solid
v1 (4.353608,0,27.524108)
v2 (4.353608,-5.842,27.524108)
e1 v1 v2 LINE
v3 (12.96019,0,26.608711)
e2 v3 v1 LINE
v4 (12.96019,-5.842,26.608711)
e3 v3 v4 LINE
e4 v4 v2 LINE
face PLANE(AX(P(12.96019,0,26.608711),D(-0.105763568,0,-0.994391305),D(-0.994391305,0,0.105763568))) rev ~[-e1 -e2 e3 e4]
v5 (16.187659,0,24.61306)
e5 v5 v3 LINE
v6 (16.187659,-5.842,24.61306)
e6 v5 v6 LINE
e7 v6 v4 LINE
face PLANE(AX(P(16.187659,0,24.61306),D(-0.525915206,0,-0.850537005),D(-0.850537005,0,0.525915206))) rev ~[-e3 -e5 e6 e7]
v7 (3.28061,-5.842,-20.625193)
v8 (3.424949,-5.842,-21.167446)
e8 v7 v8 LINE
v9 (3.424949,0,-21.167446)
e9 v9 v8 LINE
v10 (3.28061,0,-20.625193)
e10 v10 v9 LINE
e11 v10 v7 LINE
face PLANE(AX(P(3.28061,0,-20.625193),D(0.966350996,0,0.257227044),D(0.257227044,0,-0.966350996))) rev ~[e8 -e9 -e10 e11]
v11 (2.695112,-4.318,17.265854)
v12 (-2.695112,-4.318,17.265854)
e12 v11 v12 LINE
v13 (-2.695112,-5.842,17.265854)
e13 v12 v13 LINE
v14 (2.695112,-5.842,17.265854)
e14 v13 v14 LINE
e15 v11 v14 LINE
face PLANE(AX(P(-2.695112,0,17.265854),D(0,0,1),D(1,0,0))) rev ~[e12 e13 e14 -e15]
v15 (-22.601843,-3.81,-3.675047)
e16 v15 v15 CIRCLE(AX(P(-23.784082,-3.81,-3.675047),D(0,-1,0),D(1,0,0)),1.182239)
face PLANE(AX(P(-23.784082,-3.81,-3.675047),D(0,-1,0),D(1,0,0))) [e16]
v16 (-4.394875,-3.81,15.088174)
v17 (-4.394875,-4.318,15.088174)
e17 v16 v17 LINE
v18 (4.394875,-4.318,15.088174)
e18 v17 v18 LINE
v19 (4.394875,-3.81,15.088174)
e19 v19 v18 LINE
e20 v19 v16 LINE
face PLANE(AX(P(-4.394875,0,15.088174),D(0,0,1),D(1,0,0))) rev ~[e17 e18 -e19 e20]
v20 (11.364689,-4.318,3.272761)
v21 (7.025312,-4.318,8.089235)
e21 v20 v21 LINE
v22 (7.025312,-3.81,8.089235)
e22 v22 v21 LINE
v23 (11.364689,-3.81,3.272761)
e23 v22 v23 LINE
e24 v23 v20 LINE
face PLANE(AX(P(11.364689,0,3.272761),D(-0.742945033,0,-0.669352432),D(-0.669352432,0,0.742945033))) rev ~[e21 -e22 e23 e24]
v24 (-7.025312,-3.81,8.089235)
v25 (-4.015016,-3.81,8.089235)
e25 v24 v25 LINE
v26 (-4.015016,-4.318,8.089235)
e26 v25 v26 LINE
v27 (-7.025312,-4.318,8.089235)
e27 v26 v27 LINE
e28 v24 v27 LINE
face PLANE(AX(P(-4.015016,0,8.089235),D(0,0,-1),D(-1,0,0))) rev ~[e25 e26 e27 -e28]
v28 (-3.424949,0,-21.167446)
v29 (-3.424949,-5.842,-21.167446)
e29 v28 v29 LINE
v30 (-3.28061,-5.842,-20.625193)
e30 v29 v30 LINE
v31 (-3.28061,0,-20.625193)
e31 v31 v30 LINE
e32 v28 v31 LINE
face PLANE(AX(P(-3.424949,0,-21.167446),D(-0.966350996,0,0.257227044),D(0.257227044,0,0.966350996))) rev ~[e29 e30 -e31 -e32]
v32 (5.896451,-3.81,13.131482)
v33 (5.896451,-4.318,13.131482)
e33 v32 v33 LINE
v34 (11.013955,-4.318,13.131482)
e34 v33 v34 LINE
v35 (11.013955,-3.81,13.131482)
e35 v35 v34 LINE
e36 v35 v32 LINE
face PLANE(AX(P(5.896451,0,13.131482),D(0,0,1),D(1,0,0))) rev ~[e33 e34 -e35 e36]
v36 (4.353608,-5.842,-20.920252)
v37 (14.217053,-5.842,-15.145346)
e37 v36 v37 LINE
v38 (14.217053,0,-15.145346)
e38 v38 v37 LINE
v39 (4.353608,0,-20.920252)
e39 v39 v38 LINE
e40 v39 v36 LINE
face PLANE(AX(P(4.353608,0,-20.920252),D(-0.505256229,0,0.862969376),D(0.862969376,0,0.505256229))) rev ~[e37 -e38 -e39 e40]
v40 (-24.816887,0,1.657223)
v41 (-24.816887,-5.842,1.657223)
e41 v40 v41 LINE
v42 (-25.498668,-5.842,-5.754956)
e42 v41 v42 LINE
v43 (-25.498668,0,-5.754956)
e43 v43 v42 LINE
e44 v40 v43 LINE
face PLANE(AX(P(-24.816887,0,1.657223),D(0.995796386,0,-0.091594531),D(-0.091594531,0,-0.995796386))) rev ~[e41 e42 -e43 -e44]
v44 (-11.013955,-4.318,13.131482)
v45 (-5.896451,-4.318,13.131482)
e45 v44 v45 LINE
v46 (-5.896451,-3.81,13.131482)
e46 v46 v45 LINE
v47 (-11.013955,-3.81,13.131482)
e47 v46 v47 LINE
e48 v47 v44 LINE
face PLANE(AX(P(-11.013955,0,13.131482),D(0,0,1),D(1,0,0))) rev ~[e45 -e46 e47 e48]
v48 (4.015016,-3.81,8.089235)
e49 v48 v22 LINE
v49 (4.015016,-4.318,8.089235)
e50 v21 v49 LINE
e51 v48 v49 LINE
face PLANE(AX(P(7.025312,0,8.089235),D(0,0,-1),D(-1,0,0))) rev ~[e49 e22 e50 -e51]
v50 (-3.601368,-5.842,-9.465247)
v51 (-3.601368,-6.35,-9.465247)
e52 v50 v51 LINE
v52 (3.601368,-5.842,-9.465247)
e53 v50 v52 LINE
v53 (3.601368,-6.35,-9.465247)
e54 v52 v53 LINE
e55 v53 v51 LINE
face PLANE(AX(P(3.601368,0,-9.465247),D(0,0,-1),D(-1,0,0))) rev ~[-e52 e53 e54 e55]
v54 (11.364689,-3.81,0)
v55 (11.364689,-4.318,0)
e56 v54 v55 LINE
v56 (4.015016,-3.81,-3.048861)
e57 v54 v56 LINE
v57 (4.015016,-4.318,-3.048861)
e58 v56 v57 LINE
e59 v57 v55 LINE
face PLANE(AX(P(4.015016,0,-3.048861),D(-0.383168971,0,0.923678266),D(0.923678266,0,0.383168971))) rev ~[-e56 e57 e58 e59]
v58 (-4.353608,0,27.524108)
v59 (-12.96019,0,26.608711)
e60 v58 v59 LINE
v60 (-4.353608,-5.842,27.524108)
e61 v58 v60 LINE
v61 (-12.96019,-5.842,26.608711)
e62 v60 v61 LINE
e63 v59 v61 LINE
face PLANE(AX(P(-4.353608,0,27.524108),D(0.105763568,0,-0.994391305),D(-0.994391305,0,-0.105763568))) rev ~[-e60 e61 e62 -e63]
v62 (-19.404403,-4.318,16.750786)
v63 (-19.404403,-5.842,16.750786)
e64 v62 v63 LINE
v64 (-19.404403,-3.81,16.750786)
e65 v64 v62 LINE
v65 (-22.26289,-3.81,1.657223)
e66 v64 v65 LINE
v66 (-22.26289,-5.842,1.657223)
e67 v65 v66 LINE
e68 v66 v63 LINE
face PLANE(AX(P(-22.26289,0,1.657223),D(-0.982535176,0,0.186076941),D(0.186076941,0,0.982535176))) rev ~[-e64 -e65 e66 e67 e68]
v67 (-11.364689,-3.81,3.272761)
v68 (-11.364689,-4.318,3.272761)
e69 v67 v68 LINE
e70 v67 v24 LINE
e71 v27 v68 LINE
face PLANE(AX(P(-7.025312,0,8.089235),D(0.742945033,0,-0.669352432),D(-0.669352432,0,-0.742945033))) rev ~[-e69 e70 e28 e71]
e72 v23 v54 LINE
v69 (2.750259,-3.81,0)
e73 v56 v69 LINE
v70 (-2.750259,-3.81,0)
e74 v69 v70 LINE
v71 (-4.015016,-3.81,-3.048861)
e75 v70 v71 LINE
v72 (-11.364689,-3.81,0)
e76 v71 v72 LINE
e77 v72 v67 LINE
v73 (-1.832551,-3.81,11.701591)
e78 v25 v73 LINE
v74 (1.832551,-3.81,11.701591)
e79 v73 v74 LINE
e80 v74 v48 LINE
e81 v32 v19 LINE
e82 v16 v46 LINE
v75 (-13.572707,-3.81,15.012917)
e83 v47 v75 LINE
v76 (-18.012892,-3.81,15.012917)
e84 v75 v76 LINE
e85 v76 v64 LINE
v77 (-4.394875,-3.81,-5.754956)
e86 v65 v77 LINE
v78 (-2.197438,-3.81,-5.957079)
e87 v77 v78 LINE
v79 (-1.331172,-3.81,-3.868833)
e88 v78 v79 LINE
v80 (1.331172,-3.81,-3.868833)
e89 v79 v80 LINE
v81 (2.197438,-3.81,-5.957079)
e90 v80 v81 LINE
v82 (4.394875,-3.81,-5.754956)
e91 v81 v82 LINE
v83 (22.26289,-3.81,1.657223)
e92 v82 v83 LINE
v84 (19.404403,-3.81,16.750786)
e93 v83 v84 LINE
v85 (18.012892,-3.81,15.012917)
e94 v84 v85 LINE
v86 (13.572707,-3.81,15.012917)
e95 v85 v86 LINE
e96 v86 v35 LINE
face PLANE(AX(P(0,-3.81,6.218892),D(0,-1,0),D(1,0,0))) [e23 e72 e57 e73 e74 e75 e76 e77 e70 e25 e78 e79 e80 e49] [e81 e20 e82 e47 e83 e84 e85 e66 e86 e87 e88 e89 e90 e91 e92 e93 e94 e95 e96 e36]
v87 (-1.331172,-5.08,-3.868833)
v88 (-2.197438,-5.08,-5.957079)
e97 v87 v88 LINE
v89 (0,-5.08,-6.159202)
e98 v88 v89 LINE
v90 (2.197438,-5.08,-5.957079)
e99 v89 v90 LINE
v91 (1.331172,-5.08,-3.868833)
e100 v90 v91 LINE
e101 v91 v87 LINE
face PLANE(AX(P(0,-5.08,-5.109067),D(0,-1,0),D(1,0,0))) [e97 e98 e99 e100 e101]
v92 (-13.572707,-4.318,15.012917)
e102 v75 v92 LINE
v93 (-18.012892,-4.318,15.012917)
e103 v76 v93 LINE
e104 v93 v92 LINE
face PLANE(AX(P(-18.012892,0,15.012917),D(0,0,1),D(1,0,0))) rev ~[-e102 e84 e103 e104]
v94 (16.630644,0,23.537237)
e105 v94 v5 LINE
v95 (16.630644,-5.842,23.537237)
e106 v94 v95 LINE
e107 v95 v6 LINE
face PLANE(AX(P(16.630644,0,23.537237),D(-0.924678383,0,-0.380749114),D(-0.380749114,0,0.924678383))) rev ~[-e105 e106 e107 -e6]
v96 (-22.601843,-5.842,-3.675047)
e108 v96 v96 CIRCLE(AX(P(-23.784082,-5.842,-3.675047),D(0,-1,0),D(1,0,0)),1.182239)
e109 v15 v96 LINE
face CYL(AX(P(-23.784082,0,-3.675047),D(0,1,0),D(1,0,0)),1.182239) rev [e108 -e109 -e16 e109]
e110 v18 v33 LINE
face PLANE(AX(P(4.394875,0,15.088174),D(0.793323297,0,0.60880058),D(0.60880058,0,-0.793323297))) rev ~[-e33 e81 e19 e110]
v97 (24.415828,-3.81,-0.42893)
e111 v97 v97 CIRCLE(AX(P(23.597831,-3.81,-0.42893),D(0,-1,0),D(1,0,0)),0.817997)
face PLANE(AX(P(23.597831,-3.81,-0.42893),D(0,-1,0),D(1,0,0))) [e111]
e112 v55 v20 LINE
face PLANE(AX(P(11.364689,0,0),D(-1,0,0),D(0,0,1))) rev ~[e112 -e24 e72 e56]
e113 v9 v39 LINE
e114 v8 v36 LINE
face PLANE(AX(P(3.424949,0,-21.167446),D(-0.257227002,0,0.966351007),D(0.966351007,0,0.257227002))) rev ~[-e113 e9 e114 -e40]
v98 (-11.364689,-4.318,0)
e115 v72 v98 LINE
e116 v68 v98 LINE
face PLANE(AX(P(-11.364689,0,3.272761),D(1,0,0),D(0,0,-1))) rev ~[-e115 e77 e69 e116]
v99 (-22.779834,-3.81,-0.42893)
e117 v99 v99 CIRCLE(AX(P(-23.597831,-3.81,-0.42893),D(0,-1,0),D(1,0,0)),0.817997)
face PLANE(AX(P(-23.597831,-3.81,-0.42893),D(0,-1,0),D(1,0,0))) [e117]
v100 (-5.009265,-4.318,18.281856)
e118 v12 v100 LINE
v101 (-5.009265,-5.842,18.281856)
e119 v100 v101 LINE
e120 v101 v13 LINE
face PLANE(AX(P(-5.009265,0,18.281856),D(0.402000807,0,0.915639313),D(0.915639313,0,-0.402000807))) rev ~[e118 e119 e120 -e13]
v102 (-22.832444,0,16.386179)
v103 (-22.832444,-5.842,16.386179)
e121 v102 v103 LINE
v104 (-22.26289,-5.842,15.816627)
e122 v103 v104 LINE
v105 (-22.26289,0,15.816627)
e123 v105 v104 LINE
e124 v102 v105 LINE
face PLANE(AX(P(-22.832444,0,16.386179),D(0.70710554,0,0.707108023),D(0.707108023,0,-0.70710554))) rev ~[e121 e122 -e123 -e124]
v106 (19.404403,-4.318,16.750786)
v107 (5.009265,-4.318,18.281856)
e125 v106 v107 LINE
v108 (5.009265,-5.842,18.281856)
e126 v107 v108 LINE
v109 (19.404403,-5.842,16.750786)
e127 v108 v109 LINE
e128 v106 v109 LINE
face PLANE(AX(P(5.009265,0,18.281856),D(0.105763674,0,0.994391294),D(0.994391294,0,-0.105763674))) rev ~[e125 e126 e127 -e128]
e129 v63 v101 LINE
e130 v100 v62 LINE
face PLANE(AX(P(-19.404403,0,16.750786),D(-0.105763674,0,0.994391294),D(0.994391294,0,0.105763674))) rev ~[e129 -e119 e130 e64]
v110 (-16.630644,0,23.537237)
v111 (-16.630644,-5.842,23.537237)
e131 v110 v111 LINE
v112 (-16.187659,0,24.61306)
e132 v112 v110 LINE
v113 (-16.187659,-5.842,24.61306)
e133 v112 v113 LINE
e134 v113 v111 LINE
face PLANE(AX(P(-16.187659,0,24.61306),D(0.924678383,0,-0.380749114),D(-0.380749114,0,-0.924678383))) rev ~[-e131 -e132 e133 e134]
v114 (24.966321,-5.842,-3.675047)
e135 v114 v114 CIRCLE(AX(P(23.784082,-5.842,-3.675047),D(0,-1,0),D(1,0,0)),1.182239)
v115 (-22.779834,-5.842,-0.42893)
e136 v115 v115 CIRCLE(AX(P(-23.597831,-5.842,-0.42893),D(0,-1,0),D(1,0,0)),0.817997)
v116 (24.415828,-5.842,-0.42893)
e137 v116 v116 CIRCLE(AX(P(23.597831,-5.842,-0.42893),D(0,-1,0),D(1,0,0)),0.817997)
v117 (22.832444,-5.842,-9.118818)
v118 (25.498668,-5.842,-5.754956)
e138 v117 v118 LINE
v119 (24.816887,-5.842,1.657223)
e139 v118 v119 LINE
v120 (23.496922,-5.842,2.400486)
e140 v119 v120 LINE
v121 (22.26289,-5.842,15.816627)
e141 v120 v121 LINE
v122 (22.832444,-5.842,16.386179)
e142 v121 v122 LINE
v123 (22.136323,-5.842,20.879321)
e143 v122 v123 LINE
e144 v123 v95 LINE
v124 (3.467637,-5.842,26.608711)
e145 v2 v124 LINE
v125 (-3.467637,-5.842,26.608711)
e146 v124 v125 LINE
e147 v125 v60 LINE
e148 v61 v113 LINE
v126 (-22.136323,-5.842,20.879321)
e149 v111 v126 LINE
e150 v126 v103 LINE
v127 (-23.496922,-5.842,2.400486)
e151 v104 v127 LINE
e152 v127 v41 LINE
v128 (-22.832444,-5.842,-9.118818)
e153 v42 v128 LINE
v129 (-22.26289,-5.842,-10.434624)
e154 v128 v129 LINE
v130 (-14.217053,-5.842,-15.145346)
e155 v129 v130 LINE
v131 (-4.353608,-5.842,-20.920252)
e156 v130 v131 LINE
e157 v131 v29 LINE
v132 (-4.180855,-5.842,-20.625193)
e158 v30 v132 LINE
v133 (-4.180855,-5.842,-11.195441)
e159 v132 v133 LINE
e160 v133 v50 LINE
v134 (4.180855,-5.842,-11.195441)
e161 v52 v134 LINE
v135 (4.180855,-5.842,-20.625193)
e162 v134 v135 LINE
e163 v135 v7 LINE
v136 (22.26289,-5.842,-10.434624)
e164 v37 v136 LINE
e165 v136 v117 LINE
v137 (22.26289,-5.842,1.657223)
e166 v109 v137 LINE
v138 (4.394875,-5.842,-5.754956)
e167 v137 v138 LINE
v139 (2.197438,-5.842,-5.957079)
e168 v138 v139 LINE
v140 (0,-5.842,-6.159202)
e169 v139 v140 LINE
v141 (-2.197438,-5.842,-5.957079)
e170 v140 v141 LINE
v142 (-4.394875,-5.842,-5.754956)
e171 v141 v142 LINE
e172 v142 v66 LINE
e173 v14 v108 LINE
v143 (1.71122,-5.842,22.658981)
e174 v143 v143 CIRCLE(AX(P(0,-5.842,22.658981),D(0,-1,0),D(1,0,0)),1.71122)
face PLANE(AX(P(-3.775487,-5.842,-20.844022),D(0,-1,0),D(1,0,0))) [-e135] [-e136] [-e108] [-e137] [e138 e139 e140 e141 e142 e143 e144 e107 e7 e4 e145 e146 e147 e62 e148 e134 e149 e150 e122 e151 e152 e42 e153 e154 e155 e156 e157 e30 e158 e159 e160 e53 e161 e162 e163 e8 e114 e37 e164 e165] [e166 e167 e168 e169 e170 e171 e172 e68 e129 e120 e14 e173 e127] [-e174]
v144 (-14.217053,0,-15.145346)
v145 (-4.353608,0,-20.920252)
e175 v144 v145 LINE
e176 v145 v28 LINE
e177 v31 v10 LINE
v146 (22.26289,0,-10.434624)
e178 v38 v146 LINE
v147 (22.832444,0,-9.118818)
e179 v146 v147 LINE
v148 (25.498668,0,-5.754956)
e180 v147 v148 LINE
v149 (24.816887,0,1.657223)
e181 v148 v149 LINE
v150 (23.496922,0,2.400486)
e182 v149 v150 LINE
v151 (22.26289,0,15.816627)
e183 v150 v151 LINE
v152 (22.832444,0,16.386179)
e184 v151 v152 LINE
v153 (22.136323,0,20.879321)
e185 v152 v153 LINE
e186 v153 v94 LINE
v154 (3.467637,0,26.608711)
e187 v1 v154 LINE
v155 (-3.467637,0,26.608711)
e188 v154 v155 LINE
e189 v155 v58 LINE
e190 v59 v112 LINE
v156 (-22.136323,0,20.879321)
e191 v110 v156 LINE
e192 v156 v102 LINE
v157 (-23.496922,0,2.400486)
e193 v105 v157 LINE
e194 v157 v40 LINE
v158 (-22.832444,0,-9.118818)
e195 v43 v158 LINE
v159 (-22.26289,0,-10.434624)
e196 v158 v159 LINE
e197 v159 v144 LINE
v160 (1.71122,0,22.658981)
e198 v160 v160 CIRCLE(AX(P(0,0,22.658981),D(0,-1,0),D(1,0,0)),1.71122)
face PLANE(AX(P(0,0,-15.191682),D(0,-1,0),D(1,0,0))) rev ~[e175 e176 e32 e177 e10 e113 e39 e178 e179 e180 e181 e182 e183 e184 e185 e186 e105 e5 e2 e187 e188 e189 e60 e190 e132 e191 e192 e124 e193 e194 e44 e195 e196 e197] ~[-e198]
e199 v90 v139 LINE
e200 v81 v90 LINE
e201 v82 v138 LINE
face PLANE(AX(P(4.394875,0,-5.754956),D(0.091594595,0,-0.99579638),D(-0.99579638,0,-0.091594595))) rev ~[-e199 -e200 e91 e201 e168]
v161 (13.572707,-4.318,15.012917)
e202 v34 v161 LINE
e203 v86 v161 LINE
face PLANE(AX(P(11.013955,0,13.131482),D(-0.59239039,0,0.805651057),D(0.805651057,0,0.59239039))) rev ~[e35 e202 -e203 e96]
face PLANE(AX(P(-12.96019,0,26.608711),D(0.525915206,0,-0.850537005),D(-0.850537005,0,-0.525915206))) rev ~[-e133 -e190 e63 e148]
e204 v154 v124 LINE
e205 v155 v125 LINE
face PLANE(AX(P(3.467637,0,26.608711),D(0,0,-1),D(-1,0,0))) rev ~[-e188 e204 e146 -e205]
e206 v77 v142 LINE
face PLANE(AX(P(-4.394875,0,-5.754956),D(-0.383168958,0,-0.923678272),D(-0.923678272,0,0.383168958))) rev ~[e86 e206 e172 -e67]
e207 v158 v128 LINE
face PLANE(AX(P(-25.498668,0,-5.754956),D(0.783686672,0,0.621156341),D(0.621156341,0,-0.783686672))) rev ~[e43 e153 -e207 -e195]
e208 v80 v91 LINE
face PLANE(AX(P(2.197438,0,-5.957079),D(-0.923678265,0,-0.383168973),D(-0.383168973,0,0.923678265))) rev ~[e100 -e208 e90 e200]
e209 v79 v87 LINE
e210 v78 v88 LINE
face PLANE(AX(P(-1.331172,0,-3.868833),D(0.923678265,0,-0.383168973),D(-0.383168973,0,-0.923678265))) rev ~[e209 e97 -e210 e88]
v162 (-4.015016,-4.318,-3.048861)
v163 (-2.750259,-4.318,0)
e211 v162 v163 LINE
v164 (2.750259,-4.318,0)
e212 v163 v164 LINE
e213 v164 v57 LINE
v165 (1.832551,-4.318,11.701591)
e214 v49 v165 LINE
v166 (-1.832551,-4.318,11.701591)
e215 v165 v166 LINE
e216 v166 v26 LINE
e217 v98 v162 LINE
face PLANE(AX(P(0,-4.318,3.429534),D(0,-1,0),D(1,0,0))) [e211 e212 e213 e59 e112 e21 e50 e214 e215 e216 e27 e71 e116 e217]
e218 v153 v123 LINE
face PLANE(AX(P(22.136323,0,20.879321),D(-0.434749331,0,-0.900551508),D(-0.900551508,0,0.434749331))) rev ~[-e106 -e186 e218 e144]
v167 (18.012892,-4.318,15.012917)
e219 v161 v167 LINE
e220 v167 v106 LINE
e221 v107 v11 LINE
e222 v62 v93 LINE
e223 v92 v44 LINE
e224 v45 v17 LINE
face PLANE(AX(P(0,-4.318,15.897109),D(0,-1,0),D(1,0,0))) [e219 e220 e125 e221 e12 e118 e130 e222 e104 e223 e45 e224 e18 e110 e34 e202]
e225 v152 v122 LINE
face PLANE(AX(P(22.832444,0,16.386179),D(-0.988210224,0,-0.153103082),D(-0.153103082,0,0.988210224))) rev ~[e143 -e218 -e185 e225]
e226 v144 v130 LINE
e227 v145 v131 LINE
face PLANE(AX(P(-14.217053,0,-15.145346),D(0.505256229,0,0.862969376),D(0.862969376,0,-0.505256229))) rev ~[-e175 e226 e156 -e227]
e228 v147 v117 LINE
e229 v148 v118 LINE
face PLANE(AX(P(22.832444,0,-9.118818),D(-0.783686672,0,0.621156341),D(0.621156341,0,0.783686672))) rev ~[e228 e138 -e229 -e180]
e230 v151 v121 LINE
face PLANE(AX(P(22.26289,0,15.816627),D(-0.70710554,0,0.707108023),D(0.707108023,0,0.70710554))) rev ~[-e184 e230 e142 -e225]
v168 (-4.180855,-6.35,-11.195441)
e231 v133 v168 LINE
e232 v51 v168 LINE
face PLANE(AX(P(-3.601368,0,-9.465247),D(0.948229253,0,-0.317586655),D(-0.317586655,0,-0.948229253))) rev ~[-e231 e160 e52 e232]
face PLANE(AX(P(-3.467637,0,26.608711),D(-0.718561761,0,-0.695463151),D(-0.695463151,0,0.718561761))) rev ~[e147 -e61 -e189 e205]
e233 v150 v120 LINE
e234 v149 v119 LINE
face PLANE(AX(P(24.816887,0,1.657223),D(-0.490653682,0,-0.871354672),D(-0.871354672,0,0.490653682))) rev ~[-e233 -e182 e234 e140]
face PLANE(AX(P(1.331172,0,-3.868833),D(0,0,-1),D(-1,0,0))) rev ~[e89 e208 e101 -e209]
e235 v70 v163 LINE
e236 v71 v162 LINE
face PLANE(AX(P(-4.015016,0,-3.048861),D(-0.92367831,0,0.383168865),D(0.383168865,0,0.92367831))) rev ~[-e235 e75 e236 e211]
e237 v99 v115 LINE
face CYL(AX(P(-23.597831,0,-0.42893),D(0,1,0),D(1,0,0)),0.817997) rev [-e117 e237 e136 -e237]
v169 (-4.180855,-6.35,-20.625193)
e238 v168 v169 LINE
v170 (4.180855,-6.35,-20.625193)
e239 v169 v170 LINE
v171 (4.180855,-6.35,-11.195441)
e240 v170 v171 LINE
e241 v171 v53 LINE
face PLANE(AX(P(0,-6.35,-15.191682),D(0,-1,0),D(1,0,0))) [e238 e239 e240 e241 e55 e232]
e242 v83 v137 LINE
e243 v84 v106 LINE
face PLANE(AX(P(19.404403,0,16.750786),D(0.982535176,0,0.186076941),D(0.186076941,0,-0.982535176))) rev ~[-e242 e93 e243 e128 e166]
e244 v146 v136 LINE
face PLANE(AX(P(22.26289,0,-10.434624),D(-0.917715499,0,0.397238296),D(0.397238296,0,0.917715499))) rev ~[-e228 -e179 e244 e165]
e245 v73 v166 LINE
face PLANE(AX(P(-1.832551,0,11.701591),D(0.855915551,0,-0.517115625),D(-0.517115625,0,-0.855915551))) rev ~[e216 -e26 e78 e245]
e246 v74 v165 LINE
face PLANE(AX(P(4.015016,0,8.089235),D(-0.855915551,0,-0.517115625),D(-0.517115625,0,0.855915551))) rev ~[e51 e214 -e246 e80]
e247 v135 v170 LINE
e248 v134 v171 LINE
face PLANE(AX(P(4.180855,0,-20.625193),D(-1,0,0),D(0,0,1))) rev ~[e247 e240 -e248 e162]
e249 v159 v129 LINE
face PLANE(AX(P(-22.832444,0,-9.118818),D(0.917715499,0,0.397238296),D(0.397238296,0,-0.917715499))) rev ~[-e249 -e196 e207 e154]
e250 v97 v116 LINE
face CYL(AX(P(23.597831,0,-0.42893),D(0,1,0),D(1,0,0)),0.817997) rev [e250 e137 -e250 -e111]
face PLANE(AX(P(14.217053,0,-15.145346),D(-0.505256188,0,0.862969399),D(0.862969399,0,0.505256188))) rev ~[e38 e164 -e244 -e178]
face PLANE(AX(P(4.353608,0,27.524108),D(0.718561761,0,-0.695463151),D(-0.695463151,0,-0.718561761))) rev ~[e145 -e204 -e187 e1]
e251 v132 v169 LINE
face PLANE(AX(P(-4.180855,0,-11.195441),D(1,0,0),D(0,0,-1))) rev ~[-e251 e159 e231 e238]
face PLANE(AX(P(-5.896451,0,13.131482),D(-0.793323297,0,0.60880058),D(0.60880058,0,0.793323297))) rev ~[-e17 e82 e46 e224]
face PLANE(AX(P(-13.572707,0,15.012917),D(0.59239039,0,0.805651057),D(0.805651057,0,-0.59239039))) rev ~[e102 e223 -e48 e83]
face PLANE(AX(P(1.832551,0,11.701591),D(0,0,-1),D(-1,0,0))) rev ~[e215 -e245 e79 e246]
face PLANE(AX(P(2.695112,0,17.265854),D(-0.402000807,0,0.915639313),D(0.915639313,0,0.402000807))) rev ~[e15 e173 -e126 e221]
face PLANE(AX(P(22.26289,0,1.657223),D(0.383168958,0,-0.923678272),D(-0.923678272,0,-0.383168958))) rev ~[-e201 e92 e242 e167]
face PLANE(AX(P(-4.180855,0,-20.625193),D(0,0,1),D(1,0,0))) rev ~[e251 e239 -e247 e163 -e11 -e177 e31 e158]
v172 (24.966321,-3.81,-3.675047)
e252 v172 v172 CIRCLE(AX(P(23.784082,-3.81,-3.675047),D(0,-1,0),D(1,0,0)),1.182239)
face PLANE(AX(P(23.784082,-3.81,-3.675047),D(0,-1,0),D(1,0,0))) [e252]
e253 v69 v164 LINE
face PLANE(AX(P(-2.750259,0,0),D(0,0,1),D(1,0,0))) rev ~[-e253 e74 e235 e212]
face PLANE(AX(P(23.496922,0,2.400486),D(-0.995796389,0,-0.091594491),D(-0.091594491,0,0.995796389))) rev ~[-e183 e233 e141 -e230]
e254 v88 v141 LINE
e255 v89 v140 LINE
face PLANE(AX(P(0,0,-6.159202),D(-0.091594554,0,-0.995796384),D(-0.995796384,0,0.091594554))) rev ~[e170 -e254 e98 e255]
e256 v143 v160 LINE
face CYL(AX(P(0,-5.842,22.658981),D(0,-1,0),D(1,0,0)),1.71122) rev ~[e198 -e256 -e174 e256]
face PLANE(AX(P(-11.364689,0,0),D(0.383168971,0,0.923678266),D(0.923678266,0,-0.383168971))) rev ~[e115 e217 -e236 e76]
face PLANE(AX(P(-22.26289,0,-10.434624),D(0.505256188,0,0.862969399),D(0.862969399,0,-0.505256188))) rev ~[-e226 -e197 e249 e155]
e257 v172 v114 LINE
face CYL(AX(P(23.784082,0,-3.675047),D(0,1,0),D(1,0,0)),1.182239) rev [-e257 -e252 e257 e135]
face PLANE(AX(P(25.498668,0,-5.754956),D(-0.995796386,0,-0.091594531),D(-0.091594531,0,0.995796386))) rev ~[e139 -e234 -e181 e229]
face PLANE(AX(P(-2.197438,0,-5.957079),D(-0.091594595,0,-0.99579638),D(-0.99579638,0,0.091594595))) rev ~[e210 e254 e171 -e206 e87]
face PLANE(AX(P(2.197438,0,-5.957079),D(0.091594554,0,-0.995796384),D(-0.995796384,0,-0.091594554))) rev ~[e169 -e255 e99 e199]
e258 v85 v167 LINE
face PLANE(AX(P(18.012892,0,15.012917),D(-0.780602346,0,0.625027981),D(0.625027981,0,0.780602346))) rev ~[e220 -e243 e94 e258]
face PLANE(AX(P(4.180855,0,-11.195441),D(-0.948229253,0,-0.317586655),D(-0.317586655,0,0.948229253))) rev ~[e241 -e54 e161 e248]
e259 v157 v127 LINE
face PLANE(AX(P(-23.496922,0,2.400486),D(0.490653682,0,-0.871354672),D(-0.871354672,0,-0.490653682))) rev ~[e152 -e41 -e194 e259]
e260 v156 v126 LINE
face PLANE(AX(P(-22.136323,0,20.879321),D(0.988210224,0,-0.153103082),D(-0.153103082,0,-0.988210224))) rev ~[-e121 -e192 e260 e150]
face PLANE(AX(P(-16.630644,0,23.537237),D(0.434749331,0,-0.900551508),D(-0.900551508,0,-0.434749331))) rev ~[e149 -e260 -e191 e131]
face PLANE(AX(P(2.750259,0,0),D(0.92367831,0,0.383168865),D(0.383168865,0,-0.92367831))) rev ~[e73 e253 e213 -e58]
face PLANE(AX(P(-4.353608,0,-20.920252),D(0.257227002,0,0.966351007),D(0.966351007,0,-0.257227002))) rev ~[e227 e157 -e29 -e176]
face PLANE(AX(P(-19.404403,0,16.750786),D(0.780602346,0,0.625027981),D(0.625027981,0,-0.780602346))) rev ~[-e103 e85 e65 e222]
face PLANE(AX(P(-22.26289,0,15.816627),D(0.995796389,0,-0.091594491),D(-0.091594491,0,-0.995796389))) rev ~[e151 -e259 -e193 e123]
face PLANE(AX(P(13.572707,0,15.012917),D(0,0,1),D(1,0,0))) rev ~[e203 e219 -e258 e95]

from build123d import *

# Parameters (mm, degrees)
F0_R     = 1.182239
F0_R_2   = 0.817997
F1_DEPTH = 5.842
F2_DEPTH = 3.81
F3_DEPTH = 5.08
F4_DEPTH = 4.318
F5_R     = 1.71122
F6_DEPTH = 25.4
F7_DEPTH = 6.35


with BuildPart() as f1:
    # F0 (on Front) → F1 (new body)
    with BuildSketch(Plane.XZ):
        Polygon((-4.180855, -20.625193), (-4.353608, -20.920252), (-3.424949, -21.167446), (-3.28061, -20.625193), align=None)
        Polygon((3.424949, -21.167446), (4.353608, -20.920252), (4.180855, -20.625193), (3.28061, -20.625193), align=None)
        Polygon((22.26289, -6.835999), (22.26289, 1.657223), (4.394875, -5.754956), (2.197438, -5.957079), (0, -6.159202), (-2.197438, -5.957079), (-4.394875, -5.754956), (-22.26289, 1.657223), (-22.26289, -6.835999), (-22.832444, -9.118818), (-15.86828, -11.246894), (-14.217053, -15.145346), (-4.353608, -20.920252), (-4.180855, -20.625193), (-4.180855, -11.195441), (-3.601368, -9.465247), (0, -9.465247), (3.601368, -9.465247), (4.180855, -11.195441), (4.180855, -20.625193), (4.353608, -20.920252), (14.217053, -15.145346), (15.86828, -11.246894), (22.832444, -9.118818), align=None)
        Polygon((-15.86828, -11.246894), (-22.832444, -9.118818), (-22.26289, -10.434624), (-14.217053, -15.145346), align=None)
        Polygon((22.26289, -10.434624), (22.832444, -9.118818), (15.86828, -11.246894), (14.217053, -15.145346), align=None)
        Polygon((24.816887, 1.657223), (22.26289, 1.657223), (22.26289, -6.835999), (22.832444, -9.118818), (25.498668, -5.754956), align=None)
        with Locations((23.784082, -3.675047)):
            Circle(F0_R, mode=Mode.SUBTRACT)
        with Locations((23.597831, -0.42893)):
            Circle(F0_R_2, mode=Mode.SUBTRACT)
        Polygon((-22.26289, -6.835999), (-22.26289, 1.657223), (-24.816887, 1.657223), (-25.498668, -5.754956), (-22.832444, -9.118818), align=None)
        with Locations((-23.784082, -3.675047)):
            Circle(F0_R, mode=Mode.SUBTRACT)
        with Locations((-23.597831, -0.42893)):
            Circle(F0_R_2, mode=Mode.SUBTRACT)
        Polygon((-19.404403, 16.750786), (-22.26289, 15.816627), (-23.496922, 2.400486), (-22.26289, 1.657223), align=None)
        Polygon((23.496922, 2.400486), (22.26289, 15.816627), (19.404403, 16.750786), (22.26289, 1.657223), align=None)
        Polygon((24.816887, 1.657223), (23.496922, 2.400486), (22.26289, 1.657223), align=None)
        Polygon((-22.26289, 1.657223), (-23.496922, 2.400486), (-24.816887, 1.657223), align=None)
        Polygon((-19.404403, 16.750786), (-22.832444, 16.386179), (-22.26289, 15.816627), align=None)
        Polygon((22.26289, 15.816627), (22.832444, 16.386179), (19.404403, 16.750786), align=None)
        Polygon((22.832444, 16.386179), (22.136323, 20.879321), (5.009265, 22.700958), (2.695112, 21.684956), (0, 21.684956), (-2.695112, 21.684956), (-5.009265, 22.700958), (-22.136323, 20.879321), (-22.832444, 16.386179), (-19.404403, 16.750786), (-5.009265, 18.281856), (-2.695112, 17.265854), (0, 17.265854), (2.695112, 17.265854), (5.009265, 18.281856), (19.404403, 16.750786), align=None)
        Polygon((3.467637, 26.608711), (0, 26.608711), (-3.467637, 26.608711), (-4.353608, 27.524108), (-12.96019, 26.608711), (-16.187659, 24.61306), (-16.630644, 23.537237), (-22.136323, 20.879321), (-5.009265, 22.700958), (-2.695112, 21.684956), (0, 21.684956), (2.695112, 21.684956), (5.009265, 22.700958), (22.136323, 20.879321), (16.630644, 23.537237), (16.187659, 24.61306), (12.96019, 26.608711), (4.353608, 27.524108), align=None)
    extrude(amount=F1_DEPTH)

    # F0 (on Front) → F2 (join)
    with BuildSketch(Plane.XZ):
        with Locations((23.784082, -3.675047)):
            Circle(F0_R)
        with Locations((23.597831, -0.42893)):
            Circle(F0_R_2)
        with Locations((-23.784082, -3.675047)):
            Circle(F0_R)
        with Locations((-23.597831, -0.42893)):
            Circle(F0_R_2)
        Polygon((22.26289, 1.657223), (19.404403, 16.750786), (18.012892, 15.012917), (13.572707, 15.012917), (11.013955, 13.131482), (5.896451, 13.131482), (4.394875, 15.088174), (0, 15.088174), (-4.394875, 15.088174), (-5.896451, 13.131482), (-11.013955, 13.131482), (-13.572707, 15.012917), (-18.012892, 15.012917), (-19.404403, 16.750786), (-22.26289, 1.657223), (-4.394875, -5.754956), (-2.197438, -5.957079), (-1.331172, -3.868833), (0, -3.868833), (1.331172, -3.868833), (2.197438, -5.957079), (4.394875, -5.754956), align=None)
        Polygon((-2.750259, 0), (-4.015016, -3.048861), (-11.364689, 0), (-11.364689, 3.272761), (-7.025312, 8.089235), (-4.015016, 8.089235), (-1.832551, 11.701591), (0, 11.701591), (1.832551, 11.701591), (4.015016, 8.089235), (7.025312, 8.089235), (11.364689, 3.272761), (11.364689, 0), (4.015016, -3.048861), (2.750259, 0), (0, 0), align=None, mode=Mode.SUBTRACT)
    extrude(amount=F2_DEPTH)

    # F0 (on Front) → F3 (join)
    with BuildSketch(Plane.XZ):
        Polygon((0, -6.159202), (2.197438, -5.957079), (1.331172, -3.868833), (0, -3.868833), (-1.331172, -3.868833), (-2.197438, -5.957079), align=None)
    extrude(amount=F3_DEPTH)

    # F0 (on Front) → F4 (join)
    with BuildSketch(Plane.XZ):
        Polygon((-11.364689, 0), (-4.015016, -3.048861), (-2.750259, 0), (0, 0), (2.750259, 0), (4.015016, -3.048861), (11.364689, 0), (11.364689, 3.272761), (7.025312, 8.089235), (4.015016, 8.089235), (1.832551, 11.701591), (0, 11.701591), (-1.832551, 11.701591), (-4.015016, 8.089235), (-7.025312, 8.089235), (-11.364689, 3.272761), align=None)
        Polygon((18.012892, 15.012917), (19.404403, 16.750786), (5.009265, 18.281856), (2.695112, 17.265854), (0, 17.265854), (-2.695112, 17.265854), (-5.009265, 18.281856), (-19.404403, 16.750786), (-18.012892, 15.012917), (-13.572707, 15.012917), (-11.013955, 13.131482), (-5.896451, 13.131482), (-4.394875, 15.088174), (0, 15.088174), (4.394875, 15.088174), (5.896451, 13.131482), (11.013955, 13.131482), (13.572707, 15.012917), align=None)
    extrude(amount=F4_DEPTH)

    # F5 (on face) → F6 (cut)
    with BuildSketch(Plane.XZ.offset(5.842)):
        with Locations((0, 22.658981)):
            Circle(F5_R)
    extrude(amount=-F6_DEPTH, mode=Mode.SUBTRACT)

    # F0 (on Front) → F7 (join)
    with BuildSketch(Plane.XZ):
        Polygon((3.28061, -20.625193), (4.180855, -20.625193), (4.180855, -11.195441), (3.601368, -9.465247), (0, -9.465247), (-3.601368, -9.465247), (-4.180855, -11.195441), (-4.180855, -20.625193), (-3.28061, -20.625193), (0, -20.625193), align=None)
    extrude(amount=F7_DEPTH)


solid = f1.part
